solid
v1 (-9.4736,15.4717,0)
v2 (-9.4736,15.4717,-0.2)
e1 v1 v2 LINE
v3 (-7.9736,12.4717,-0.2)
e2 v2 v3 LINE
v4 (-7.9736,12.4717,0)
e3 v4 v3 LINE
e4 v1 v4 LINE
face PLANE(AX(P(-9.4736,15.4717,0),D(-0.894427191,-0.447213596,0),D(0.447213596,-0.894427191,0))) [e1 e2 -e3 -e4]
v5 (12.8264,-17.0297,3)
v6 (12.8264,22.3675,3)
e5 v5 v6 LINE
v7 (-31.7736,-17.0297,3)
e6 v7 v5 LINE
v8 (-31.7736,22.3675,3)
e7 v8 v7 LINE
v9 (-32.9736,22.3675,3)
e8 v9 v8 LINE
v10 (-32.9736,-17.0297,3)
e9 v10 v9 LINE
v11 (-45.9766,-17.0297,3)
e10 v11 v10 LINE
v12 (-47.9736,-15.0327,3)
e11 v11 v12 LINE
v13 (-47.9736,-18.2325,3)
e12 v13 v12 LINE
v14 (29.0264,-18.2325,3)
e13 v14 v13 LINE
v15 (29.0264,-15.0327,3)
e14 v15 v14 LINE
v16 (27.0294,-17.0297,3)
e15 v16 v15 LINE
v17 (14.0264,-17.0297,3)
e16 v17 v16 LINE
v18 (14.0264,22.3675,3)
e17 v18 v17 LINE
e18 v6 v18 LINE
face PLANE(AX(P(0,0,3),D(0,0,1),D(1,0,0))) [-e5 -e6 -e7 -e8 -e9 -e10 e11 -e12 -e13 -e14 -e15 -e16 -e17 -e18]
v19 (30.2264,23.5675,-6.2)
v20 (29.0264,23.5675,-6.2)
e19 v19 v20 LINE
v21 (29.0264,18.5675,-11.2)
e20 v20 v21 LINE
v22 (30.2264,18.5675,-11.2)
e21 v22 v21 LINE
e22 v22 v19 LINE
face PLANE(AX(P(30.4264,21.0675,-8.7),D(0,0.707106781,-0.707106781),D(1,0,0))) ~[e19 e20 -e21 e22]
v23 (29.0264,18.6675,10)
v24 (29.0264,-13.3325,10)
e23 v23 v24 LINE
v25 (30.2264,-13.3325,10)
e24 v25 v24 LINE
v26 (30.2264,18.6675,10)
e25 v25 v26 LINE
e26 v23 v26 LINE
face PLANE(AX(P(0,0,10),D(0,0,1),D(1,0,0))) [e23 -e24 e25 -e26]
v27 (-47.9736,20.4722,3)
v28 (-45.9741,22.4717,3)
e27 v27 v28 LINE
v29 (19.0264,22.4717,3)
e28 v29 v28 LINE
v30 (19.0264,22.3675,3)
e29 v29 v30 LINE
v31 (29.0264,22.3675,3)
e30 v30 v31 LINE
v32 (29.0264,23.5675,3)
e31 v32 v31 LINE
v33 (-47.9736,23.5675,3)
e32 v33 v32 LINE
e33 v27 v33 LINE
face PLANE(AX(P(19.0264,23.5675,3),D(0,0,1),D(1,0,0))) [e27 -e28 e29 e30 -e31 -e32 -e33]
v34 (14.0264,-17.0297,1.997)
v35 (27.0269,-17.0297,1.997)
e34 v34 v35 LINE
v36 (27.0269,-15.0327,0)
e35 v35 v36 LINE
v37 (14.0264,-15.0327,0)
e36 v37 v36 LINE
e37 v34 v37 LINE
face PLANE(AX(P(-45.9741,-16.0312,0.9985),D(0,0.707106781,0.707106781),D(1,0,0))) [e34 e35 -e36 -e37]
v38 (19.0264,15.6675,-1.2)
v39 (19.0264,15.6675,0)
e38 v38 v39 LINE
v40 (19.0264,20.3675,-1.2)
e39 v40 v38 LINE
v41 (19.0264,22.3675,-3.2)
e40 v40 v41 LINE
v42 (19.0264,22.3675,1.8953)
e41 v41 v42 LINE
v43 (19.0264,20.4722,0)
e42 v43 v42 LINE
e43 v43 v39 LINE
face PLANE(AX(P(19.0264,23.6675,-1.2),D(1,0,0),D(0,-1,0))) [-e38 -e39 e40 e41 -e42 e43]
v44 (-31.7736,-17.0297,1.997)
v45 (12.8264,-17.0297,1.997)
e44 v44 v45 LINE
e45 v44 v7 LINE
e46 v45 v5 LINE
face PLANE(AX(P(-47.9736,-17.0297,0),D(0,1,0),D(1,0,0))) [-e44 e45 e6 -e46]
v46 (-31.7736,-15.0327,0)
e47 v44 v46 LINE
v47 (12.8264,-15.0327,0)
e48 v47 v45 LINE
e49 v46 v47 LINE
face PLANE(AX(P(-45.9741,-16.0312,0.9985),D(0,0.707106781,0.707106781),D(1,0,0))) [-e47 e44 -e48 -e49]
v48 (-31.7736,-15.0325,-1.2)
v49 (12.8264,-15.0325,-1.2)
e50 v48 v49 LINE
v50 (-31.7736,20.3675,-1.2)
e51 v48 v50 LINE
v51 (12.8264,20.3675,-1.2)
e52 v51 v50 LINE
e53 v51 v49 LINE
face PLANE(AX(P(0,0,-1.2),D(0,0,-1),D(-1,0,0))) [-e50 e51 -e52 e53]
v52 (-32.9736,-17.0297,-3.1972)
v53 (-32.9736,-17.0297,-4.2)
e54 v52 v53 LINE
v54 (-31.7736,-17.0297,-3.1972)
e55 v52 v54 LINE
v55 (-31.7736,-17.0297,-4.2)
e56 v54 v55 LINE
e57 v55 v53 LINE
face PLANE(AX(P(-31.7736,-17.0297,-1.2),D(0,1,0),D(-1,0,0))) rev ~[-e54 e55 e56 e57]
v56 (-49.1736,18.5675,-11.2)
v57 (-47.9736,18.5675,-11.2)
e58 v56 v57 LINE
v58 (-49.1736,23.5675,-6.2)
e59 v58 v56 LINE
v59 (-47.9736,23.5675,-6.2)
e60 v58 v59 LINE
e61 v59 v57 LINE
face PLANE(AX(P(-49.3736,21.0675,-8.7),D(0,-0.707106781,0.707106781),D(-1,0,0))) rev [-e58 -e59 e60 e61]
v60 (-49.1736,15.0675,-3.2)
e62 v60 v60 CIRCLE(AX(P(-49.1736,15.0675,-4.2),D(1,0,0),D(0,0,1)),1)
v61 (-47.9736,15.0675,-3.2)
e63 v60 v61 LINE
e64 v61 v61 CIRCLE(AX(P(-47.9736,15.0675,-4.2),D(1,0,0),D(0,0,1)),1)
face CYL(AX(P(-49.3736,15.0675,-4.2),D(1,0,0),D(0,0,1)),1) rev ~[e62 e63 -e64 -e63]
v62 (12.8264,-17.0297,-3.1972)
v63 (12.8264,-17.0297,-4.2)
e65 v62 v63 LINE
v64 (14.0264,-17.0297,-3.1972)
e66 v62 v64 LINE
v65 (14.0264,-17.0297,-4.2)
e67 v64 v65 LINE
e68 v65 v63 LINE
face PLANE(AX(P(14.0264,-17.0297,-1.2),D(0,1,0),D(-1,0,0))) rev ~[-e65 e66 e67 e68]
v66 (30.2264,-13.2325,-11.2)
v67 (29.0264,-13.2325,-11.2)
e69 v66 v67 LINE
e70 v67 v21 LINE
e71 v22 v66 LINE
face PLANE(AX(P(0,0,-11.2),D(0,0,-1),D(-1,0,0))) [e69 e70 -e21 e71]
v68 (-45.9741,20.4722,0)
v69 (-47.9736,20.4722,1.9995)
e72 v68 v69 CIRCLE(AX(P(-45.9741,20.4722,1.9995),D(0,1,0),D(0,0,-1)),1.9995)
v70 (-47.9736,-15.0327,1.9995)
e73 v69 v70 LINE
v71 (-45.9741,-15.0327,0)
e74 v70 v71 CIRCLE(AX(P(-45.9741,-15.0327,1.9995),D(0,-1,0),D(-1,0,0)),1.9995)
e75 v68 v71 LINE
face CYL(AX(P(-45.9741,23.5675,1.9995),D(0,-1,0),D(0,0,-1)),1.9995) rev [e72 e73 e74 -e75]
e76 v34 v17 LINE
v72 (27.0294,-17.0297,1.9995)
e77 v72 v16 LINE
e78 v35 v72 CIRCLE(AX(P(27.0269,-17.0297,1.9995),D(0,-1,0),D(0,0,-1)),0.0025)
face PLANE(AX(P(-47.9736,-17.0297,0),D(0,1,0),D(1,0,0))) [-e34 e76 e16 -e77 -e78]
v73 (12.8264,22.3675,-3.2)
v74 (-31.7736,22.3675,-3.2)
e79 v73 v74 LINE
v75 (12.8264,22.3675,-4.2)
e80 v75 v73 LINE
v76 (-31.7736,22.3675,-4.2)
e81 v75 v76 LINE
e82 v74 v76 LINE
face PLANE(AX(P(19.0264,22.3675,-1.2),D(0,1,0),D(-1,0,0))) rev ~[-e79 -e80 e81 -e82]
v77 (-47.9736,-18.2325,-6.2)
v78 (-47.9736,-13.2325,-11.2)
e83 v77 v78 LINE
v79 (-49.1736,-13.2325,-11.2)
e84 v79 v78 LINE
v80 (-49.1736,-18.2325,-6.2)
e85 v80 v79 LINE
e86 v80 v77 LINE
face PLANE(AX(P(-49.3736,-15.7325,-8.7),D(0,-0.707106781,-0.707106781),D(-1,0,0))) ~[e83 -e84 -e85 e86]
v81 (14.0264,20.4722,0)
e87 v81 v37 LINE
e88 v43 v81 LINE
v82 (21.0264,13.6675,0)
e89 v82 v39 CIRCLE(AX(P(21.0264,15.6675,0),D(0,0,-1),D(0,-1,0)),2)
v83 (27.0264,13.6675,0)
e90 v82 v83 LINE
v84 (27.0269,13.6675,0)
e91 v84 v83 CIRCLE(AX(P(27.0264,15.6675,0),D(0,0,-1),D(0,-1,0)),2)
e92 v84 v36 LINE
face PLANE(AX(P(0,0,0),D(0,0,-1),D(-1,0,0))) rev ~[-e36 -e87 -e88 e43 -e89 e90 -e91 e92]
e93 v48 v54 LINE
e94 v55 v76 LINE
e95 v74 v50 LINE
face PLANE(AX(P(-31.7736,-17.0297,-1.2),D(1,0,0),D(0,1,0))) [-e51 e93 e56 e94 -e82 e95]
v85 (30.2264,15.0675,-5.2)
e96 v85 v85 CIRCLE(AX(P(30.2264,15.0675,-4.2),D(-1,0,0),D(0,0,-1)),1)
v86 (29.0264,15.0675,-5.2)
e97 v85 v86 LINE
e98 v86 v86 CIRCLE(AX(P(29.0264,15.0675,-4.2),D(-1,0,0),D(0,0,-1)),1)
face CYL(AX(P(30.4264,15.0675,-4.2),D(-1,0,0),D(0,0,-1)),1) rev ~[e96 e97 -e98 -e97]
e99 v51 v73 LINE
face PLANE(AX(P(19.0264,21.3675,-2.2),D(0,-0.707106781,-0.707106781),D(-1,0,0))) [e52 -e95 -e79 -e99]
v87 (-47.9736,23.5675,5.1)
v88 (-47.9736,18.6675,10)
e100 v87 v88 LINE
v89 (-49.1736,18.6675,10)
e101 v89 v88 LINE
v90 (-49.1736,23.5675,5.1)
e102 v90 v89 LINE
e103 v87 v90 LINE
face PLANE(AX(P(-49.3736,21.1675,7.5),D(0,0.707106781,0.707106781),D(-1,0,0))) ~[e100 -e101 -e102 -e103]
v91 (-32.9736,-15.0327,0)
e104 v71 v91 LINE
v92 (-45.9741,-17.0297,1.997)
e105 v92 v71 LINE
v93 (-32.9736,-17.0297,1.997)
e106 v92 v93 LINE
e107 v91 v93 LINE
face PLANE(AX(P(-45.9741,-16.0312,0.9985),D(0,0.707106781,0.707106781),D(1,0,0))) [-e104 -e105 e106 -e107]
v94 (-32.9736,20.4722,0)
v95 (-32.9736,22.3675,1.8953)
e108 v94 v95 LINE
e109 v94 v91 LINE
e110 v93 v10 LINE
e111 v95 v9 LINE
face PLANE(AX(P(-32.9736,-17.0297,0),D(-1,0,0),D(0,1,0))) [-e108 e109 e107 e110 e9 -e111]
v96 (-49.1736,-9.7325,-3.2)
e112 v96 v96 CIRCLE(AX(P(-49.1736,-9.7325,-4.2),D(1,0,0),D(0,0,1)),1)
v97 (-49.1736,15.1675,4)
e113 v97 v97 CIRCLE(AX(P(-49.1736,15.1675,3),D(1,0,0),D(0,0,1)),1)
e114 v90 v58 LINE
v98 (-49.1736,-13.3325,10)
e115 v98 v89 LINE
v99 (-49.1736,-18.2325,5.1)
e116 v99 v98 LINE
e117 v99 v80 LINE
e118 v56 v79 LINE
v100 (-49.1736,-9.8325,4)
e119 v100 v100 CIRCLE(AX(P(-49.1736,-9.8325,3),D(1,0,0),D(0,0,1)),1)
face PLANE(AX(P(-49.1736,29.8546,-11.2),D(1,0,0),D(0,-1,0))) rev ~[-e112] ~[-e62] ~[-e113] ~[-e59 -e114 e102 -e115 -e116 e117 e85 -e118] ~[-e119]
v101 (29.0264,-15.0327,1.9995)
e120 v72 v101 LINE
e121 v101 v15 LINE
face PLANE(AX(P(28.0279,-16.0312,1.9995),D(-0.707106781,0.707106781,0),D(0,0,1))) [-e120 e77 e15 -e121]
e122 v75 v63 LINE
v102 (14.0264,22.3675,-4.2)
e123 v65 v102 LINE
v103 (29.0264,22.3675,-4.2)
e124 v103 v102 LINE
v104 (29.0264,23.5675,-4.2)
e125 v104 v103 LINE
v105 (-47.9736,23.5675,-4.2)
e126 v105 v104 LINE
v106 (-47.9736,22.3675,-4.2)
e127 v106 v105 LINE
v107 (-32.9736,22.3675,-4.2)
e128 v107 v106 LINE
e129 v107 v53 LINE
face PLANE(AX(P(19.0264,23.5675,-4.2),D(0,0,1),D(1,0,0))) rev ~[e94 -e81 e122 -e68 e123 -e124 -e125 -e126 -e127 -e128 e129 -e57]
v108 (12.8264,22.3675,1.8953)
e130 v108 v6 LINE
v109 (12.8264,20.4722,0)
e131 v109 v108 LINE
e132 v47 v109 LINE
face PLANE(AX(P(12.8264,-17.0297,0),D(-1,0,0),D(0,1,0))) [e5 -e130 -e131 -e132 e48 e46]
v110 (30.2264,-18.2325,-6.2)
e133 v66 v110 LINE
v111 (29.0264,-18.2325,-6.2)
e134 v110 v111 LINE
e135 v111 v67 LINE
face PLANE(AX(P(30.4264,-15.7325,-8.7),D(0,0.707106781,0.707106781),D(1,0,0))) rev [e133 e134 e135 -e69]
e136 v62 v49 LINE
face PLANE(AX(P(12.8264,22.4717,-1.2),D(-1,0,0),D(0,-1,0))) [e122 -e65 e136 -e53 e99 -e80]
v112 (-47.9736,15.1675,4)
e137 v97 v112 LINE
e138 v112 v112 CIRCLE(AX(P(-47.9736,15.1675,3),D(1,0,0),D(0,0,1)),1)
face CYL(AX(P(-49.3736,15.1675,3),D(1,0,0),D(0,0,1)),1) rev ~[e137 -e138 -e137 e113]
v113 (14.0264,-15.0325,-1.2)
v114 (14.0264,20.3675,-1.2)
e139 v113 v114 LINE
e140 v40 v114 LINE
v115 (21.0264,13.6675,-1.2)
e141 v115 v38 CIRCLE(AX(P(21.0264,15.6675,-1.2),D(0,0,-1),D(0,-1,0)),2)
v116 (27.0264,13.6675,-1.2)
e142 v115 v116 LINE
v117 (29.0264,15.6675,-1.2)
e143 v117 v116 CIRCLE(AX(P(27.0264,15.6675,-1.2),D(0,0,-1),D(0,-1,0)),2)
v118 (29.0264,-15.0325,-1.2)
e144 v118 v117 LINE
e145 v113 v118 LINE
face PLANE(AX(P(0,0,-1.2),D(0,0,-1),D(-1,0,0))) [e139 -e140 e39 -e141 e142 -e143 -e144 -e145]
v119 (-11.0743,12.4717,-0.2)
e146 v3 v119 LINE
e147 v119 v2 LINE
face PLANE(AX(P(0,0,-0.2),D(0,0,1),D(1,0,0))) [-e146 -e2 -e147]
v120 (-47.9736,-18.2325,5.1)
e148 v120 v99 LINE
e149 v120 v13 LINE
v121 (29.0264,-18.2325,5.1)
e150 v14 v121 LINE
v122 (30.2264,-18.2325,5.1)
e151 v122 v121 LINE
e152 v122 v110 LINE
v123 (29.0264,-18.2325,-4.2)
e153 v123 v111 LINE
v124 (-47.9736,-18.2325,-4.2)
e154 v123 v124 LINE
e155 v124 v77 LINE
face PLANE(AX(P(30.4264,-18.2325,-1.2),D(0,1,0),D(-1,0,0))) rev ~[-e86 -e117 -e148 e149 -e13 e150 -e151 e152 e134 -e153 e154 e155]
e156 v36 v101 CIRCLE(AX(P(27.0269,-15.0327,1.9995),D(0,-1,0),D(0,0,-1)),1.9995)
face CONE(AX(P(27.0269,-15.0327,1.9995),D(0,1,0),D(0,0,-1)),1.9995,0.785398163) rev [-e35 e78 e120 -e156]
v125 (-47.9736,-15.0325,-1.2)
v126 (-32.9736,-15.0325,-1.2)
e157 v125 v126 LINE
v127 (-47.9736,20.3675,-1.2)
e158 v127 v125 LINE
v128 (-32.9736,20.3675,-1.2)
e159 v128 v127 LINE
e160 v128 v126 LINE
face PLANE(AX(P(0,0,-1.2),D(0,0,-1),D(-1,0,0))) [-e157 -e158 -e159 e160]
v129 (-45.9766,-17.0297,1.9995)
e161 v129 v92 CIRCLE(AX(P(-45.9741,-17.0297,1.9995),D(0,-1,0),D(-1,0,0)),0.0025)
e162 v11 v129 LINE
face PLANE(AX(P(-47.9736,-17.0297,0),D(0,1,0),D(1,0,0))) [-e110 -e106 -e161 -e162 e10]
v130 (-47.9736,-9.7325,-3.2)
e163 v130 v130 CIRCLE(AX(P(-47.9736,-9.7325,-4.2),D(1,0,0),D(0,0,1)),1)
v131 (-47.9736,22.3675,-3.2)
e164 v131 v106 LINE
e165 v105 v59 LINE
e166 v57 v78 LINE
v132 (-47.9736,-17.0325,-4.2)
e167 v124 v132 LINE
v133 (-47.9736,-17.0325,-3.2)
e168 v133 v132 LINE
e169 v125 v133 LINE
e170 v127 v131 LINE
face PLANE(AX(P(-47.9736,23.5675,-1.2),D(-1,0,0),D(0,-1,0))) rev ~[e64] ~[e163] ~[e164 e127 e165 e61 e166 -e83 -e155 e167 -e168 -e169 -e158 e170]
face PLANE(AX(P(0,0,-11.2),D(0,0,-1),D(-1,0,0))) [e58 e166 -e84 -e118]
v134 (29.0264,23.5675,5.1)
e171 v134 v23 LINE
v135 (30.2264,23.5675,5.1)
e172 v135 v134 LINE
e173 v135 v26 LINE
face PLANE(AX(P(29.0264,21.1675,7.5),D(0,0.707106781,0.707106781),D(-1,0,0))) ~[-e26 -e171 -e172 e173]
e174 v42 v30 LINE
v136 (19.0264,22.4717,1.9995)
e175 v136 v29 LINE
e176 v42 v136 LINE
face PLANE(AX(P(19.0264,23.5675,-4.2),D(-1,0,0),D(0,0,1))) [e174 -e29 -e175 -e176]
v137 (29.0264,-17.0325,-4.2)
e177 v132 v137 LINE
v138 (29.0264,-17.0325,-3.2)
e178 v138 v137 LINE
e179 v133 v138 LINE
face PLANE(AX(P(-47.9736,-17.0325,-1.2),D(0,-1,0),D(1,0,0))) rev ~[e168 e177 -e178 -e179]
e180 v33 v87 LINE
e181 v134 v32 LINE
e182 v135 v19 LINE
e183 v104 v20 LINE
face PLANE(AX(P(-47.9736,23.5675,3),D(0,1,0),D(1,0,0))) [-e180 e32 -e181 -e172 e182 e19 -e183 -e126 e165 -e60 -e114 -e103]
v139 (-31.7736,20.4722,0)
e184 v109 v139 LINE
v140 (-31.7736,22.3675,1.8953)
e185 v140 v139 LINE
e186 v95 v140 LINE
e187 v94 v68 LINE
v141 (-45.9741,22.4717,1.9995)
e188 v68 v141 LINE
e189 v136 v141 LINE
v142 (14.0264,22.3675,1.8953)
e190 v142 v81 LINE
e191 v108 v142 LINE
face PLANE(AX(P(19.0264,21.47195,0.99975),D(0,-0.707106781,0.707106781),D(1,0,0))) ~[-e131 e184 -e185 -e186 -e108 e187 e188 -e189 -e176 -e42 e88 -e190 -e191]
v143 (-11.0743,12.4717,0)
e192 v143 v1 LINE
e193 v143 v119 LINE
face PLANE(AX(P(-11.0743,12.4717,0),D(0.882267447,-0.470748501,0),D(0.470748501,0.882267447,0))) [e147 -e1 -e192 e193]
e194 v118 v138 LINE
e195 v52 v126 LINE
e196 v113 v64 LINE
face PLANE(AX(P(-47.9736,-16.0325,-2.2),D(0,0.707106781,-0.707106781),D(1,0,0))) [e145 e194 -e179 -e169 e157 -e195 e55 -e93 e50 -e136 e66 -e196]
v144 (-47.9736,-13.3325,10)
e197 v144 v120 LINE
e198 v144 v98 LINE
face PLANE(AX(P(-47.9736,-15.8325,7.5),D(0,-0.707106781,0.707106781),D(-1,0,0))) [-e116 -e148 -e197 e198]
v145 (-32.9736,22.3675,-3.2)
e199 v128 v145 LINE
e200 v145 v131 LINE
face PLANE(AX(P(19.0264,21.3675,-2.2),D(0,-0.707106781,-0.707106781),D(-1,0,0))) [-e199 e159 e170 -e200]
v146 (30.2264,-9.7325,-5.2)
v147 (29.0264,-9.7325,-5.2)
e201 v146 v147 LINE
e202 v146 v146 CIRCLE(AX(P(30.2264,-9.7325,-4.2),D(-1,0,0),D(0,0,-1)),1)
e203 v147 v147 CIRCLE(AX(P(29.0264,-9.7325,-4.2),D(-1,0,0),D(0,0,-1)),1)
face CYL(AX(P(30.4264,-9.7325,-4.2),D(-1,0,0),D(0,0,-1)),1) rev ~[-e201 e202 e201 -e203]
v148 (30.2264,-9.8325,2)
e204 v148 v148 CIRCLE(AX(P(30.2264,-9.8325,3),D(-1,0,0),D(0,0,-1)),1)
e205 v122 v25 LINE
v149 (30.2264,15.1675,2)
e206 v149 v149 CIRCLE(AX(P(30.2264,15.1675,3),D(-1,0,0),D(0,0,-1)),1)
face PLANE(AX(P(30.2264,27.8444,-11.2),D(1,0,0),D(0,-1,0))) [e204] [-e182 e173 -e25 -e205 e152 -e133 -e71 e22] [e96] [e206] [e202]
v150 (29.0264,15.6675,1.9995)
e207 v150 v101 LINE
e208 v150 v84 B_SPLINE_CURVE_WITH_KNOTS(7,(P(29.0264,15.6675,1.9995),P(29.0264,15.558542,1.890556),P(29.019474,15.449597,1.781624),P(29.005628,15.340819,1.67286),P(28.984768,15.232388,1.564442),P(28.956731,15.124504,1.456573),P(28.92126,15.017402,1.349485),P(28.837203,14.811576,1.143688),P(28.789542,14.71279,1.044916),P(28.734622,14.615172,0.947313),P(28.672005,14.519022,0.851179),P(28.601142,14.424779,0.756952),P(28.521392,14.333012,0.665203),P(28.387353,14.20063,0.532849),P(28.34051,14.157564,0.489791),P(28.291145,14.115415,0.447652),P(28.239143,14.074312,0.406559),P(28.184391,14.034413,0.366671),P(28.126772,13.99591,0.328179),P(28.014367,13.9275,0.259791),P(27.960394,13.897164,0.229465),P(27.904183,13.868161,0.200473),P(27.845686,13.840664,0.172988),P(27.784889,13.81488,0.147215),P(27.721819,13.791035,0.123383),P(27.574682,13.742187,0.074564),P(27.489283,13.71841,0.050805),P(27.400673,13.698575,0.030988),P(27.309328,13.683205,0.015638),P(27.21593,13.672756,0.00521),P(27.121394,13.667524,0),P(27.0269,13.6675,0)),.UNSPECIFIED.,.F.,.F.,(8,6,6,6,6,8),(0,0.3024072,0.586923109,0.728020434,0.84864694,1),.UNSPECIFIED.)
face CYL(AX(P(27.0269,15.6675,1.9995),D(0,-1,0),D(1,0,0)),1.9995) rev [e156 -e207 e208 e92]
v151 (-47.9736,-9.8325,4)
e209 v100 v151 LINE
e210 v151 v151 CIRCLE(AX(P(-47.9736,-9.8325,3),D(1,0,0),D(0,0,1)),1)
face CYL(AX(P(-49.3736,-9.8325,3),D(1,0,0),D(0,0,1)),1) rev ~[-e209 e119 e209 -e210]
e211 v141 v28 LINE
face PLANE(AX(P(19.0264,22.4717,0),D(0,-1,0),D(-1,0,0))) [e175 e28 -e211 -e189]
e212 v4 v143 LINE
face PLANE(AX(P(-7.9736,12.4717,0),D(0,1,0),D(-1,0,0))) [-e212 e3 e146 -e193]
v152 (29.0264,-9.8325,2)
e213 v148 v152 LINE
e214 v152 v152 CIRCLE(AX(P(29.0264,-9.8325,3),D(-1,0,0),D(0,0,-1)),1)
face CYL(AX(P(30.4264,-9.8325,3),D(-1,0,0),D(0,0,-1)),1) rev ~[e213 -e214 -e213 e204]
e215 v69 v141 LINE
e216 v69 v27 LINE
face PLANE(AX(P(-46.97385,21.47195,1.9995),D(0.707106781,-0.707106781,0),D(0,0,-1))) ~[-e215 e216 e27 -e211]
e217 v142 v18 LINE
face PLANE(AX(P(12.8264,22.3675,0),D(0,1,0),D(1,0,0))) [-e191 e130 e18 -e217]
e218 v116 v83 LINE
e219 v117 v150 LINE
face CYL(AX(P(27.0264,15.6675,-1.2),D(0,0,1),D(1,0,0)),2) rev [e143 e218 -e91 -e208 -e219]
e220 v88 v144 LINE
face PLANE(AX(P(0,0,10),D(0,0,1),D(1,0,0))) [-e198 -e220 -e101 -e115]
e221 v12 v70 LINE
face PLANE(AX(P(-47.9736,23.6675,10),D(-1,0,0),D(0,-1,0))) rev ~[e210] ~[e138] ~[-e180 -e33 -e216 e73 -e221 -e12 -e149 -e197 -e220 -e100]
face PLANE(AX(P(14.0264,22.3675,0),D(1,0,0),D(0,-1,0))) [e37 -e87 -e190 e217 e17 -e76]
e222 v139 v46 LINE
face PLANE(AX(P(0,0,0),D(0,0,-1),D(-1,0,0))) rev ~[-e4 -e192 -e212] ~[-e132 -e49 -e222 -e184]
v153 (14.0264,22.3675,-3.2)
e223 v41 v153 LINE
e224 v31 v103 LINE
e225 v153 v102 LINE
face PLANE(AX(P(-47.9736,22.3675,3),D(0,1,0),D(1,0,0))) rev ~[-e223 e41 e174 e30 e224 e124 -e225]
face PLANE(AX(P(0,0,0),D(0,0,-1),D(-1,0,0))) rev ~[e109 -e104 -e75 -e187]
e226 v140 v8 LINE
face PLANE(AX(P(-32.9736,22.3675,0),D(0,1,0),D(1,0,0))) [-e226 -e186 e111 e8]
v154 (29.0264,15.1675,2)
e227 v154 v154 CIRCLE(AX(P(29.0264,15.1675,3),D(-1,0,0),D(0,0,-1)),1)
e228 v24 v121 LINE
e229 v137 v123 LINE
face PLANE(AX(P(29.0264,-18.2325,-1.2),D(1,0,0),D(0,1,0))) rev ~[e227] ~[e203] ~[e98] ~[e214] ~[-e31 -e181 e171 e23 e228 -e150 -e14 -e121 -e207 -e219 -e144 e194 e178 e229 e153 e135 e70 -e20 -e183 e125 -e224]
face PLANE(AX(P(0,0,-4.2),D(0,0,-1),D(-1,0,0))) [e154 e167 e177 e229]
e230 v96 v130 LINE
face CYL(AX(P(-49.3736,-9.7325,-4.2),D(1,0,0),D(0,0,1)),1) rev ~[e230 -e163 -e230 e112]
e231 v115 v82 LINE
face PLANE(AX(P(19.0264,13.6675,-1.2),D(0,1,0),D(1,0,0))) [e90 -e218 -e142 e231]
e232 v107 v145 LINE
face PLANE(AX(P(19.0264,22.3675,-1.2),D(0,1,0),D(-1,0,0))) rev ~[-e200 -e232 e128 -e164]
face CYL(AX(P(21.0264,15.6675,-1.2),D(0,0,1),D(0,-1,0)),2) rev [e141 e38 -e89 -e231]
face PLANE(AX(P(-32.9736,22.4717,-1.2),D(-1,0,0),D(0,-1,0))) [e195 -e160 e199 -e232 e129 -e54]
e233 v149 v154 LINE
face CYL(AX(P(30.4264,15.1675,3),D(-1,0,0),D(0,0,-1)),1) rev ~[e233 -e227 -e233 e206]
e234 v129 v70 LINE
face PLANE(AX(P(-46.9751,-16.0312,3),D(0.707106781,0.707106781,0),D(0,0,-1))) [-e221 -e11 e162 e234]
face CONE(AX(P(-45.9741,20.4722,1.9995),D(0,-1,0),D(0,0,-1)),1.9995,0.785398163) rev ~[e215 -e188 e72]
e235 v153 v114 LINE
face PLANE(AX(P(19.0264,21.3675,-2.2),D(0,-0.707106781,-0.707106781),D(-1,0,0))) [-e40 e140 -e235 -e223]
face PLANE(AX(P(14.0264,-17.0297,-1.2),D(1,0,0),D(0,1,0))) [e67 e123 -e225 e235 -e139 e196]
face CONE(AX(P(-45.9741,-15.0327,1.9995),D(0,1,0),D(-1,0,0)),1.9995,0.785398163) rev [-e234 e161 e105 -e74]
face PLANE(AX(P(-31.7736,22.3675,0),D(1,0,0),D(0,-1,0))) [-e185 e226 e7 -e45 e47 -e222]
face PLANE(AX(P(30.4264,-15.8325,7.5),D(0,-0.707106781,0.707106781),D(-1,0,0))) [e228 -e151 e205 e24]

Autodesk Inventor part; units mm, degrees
ref_plane "YZ Plane" through (0, 0, 0) normal (1, 0, 0) x (0, 1, 0)
ref_plane "XZ Plane" through (0, 0, 0) normal (0, 1, 0) x (-1, 0, 0)
ref_plane "XY Plane" through (0, 0, 0) normal (0, 0, 1) x (1, 0, 0)
sketch "Sketch1" plane through (0, 0, 0) normal (0, 0, 1) x (1, 0, 0)
  line L0 (-49.4736, 23.6675) -> (30.5264, 23.6675)
  line L1 (30.5264, 23.6675) -> (30.5264, -18.3325)
  line L2 (30.5264, -18.3325) -> (-49.4736, -18.3325)
  line L3 (-49.4736, -18.3325) -> (-49.4736, 23.6675)
  line L4 (-47.9736, 22.4675) -> (29.0264, 22.4675)
  line L5 (29.0264, 22.4675) -> (29.0264, -17.1325)
  line L6 (29.0264, -17.1325) -> (-47.9736, -17.1325)
  line L7 (-47.9736, -17.1325) -> (-47.9736, 22.4675)
  point P0 (0, 0)
  dimension "d0" = 80
  dimension "d1" = 42
  dimension "d2" = 1.5
  dimension "d3" = 1.5
  dimension "d4" = 1.2
  dimension "d5" = 1.2
extrude "Extrusion1" add sketch "Sketch1" along normal blind 10
sketch "Sketch2" plane through (0, 0, 10) normal (0, 0, 1) x (1, 0, 0)
  line L0 (-47.9736, -18.3325) -> (29.0264, -18.3325)
  line L1 (29.0264, -18.3325) -> (29.0264, 23.6675)
  line L2 (29.0264, 23.6675) -> (-47.9736, 23.6675)
  line L3 (-47.9736, 23.6675) -> (-47.9736, -18.3325)
  line L4 (-47.9736, -17.1325) -> (-47.9736, 22.4675) projected
  line L5 (29.0264, 22.4675) -> (29.0264, -17.1325) projected
  line L6 (30.5264, 23.6675) -> (-49.4736, 23.6675) projected
  line L7 (-49.4736, -18.3325) -> (30.5264, -18.3325) projected
  point P0 (0, 0)
extrude "Extrusion2" cut sketch "Sketch2" against normal blind 10
sketch "Sketch3" plane through (0, 0, 10) normal (0, 0, 1) x (1, 0, 0)
  line L0 (-60.7413, 24.2408) -> (-49.3736, 24.2408)
  line L1 (-49.3736, 24.2408) -> (-49.3736, -19.8756)
  line L2 (-49.3736, -19.8756) -> (-60.7413, -19.8756)
  line L3 (-60.7413, -19.8756) -> (-60.7413, 24.2408)
  line L4 (46.8098, -23.8693) -> (30.4264, -23.8693)
  line L5 (30.4264, -23.8693) -> (30.4264, 25.2624)
  line L6 (30.4264, 25.2624) -> (46.8098, 25.2624)
  line L7 (46.8098, 25.2624) -> (46.8098, -23.8693)
  line L8 (-49.4736, 23.6675) -> (-49.4736, -18.3325) projected
  line L9 (30.5264, -18.3325) -> (30.5264, 23.6675) projected
  point P0 (0, 0)
  dimension "d10" = 0.1
  dimension "d11" = 0.1
extrude "Extrusion3" cut sketch "Sketch3" against normal blind 10
sketch "Sketch4" plane through (30.4264, -18.3325, 10) normal (1, 0, 0) x (0, 0, -1)
  line L0 (10, 42) -> (10, 0) projected
  line L1 (0, 42) -> (10, 42) projected
  line L2 (10, 0) -> (0, 0) projected
  point P0 (10, 18.3325)
  point P1 (7, 33.5)
  point P2 (7, 8.5)
  dimension "d14" = 3
  dimension "d15" = 3
  dimension "d16" = 8.5
  dimension "d17" = 8.5
hole "Hole1" at (30.4264, 15.1675, 3) at (30.4264, -9.8325, 3) direction (-1, 0, 0) diameter 2 depth 10 tip angle 179
sketch "Sketch5" plane through (-49.3736, -18.3325, 10) normal (-1, 0, 0) x (0, 0, 1)
  circle A0 centre (-7, 33.5) radius 1 projected
  circle A1 centre (-7, 8.5) radius 1 projected
  point P0 (-10, 18.3325)
hole "Hole2" at (-49.3736, 15.1675, 3) at (-49.3736, -9.8325, 3) direction (1, 0, 0) diameter 2 depth 10 tip angle 179
chamfer "Chamfer1" distance 5 angle 45 4 edges at (-48.6736, 23.6675, 10) (-48.6736, -18.3325, 10) (29.7264, -18.3325, 10) (29.7264, 23.6675, 10)
sketch "Sketch6" plane through (0, 0, 0) normal (0, 0, -1) x (-1, 0, 0)
  line L0 (-30.4264, 23.6675) -> (-30.4264, -18.3325) projected
  line L1 (49.3736, -18.3325) -> (47.9736, -18.3325) projected
  line L2 (-30.4264, 23.6675) -> (49.3736, 23.6675)
  line L3 (49.3736, 23.6675) -> (49.3736, -18.3325)
  line L4 (49.3736, -18.3325) -> (-30.4264, -18.3325)
  line L5 (-30.4264, -18.3325) -> (-30.4264, 23.6675)
  point P0 (0, 0)
  point P1 (-30.4264, -18.3325)
extrude "Extrusion4" add sketch "Sketch6" along normal blind 1.2
sketch "Sketch7" plane through (0, 0, -1.2) normal (0, 0, -1) x (-1, 0, 0)
  line L0 (-29.0264, -18.3325) -> (-29.0264, 23.6675) projected
  line L1 (-29.0264, 23.6675) -> (-19.0264, 23.6675)
  line L2 (-19.0264, 23.6675) -> (-19.0264, 13.6675)
  line L3 (-19.0264, 13.6675) -> (-29.0264, 13.6675)
  line L4 (-29.0264, 13.6675) -> (-29.0264, 23.6675)
  point P0 (0, 0)
  dimension "d37" = 10
  dimension "d38" = 10
extrude "Extrusion5" cut sketch "Sketch7" against normal blind 1.2
fillet "Fillet1" radius 2 2 edges at (19.0264, 13.6675, -0.6) (29.0264, 13.6675, -0.6)
sketch "Sketch9" plane through (0, 0, 0) normal (0, 0, 1) x (1, 0, 0)
  line L0 (42.1128, -25.2677) -> (-53.8311, -25.2677)
  line L1 (-53.8311, -25.2677) -> (-53.8311, -18.2325)
  line L2 (-53.8311, -18.2325) -> (42.1128, -18.2325)
  line L3 (42.1128, -18.2325) -> (42.1128, -25.2677)
  line L4 (-54.7833, 25.6339) -> (39.9156, 25.6339)
  line L5 (39.9156, 25.6339) -> (39.9156, 23.5675)
  line L6 (39.9156, 23.5675) -> (-54.7833, 23.5675)
  line L7 (-54.7833, 23.5675) -> (-54.7833, 25.6339)
  line L8 (29.0264, -18.3325) -> (-47.9736, -18.3325) projected
  line L9 (-47.9736, 23.6675) -> (19.0264, 23.6675) projected
  point P0 (0, 0)
  dimension "d56" = 0.1
  dimension "d57" = 0.1
extrude "Extrusion7" cut sketch "Sketch9" along normal mid plane 50
fillet "Fillet2" radius 2 2 edges at (-47.9736, 2.6675, 0) (29.0264, -1.2825, 0)
sketch "Sketch10" plane through (0, 0, 0) normal (0, 0, 1) x (1, 0, 0)
  line L0 (-47.9736, 23.5675) -> (-47.9736, 15.1675) projected
  line L1 (19.0264, 23.5675) -> (19.0264, 15.6675) projected
  line L2 (-47.9736, 23.5675) -> (19.0264, 23.5675)
  line L3 (19.0264, 23.5675) -> (19.0264, 22.4717)
  line L4 (19.0264, 22.4717) -> (-47.9736, 22.4717)
  line L5 (-47.9736, 22.4717) -> (-47.9736, 23.5675)
  line L6 (29.0264, -18.2325) -> (29.0264, -9.8325) projected
  line L7 (-47.9736, -9.8325) -> (-47.9736, -18.2325) projected
  line L8 (29.0264, -18.2325) -> (-47.9736, -18.2325)
  line L9 (-47.9736, -18.2325) -> (-47.9736, -17.0297)
  line L10 (-47.9736, -17.0297) -> (29.0264, -17.0297)
  line L11 (29.0264, -17.0297) -> (29.0264, -18.2325)
  point P0 (0, 0)
  point P1 (29.0264, -17.0297)
extrude "Extrusion8" add sketch "Sketch10" along normal blind 3
sketch "Sketch13" plane through (0, 0, -1.2) normal (0, 0, -1) x (-1, 0, 0)
  line L0 (-31.9264, 25.0675) -> (50.8736, 25.0675)
  line L1 (50.8736, 25.0675) -> (50.8736, -19.7325)
  line L2 (50.8736, -19.7325) -> (-31.9264, -19.7325)
  line L3 (-31.9264, -19.7325) -> (-31.9264, 25.0675)
  line L4 (49.3736, 23.5675) -> (-19.0264, 23.5675) projected
  line L5 (-30.4264, -18.2325) -> (49.3736, -18.2325) projected
  line L6 (-30.4264, 23.5675) -> (-30.4264, -18.2325) projected
  line L7 (49.3736, -18.2325) -> (49.3736, 23.5675) projected
  line L8 (-30.4264, 23.5675) -> (49.3736, 23.5675)
  line L9 (49.3736, 23.5675) -> (49.3736, -18.2325)
  line L10 (49.3736, -18.2325) -> (-30.4264, -18.2325)
  line L11 (-30.4264, -18.2325) -> (-30.4264, 23.5675)
  point P0 (0, 0)
  dimension "d81" = 1.5
  dimension "d82" = 1.5
  dimension "d83" = 1.5
  dimension "d84" = 1.5
extrude "Extrusion11" add sketch "Sketch13" against normal blind 1.2
fillet "Fillet3" radius 2 3 edges at (31.9264, 25.0675, -0.6) (-50.8736, 25.0675, -0.6) (31.9264, -19.7325, -0.6)
fillet "Fillet4" radius 2 1 edges at (-50.8736, -19.7325, -0.6)
sketch "Sketch14" plane through (0, 0, -1.2) normal (0, 0, -1) x (-1, 0, 0)
  line L0 (-30.4264, 23.5675) -> (-29.0264, 23.5675) projected
  line L1 (-30.4264, -18.2325) -> (-30.4264, 23.5675) projected
  line L2 (-29.0264, 23.5675) -> (-30.4264, 23.5675)
  line L3 (-30.4264, 23.5675) -> (-30.4264, -18.2325)
  line L4 (-30.4264, -18.2325) -> (-29.0264, -18.2325)
  line L5 (-29.0264, -18.2325) -> (-29.0264, 23.5675)
  line L6 (49.3736, -18.2325) -> (47.9736, -18.2325) projected
  line L7 (49.3736, 23.5675) -> (49.3736, -18.2325) projected
  line L8 (47.9736, -18.2325) -> (49.3736, -18.2325)
  line L9 (49.3736, -18.2325) -> (49.3736, 23.5675)
  line L10 (49.3736, 23.5675) -> (47.9736, 23.5675)
  line L11 (47.9736, 23.5675) -> (47.9736, -18.2325)
  line L12 (-31.9264, 23.0675) -> (-31.9264, -17.7325) projected
  line L13 (48.8736, 25.0675) -> (-29.9264, 25.0675) projected
  point P0 (0, 0)
  dimension "d89" = 1.5
  dimension "d90" = 1.5
extrude "Extrusion12" add sketch "Sketch14" along normal blind 10
sketch "Sketch15" plane through (30.4264, -18.2325, -1.2) normal (1, 0, 0) x (0, 0, -1)
  line L0 (0, 41.8) -> (10, 41.8) projected
  line L1 (0, 0) -> (10, 0) projected
  line L2 (0, 41.3) -> (0, 0.5) projected
  point P0 (-1.2, 18.2325)
  point P1 (3, 33.3)
  point P2 (3, 8.5)
  point P3 (5, 41.8)
  point P4 (5, 0)
  dimension "d96" = 8.5
  dimension "d97" = 8.5
  dimension "d98" = 3
  dimension "d99" = 3
hole "Hole3" at (30.4264, 15.0675, -4.2) at (30.4264, -9.7325, -4.2) direction (-1, 0, 0) diameter 2 depth 10 tip angle 179
sketch "Sketch16" plane through (-49.3736, -18.2325, -1.2) normal (-1, 0, 0) x (0, 0, 1)
  circle A0 centre (-3, 33.3) radius 1 projected
  circle A1 centre (-3, 8.5) radius 1 projected
  point P0 (1.2, 18.2325)
hole "Hole4" at (-49.3736, 15.0675, -4.2) at (-49.3736, -9.7325, -4.2) direction (1, 0, 0) diameter 2 depth 10 tip angle 179
chamfer "Chamfer4" distance 5 angle 45 4 edges at (29.7264, 23.5675, -11.2) (-48.6736, 23.5675, -11.2) (29.7264, -18.2325, -11.2) (-48.6736, -18.2325, -11.2)
chamfer "Chamfer5" distance 2 angle 45 5 edges at (-9.4736, -17.0297, 0) (28.4408, -17.0297, 0.5856) (29.0264, -17.0297, 2.4998) (-47.3879, -17.0297, 0.5856) (-47.9736, -17.0297, 2.4998)
chamfer "Chamfer6" distance 2 angle 45 2 edges at (-13.4738, 22.4717, 0) (-47.3879, 22.4717, 0.5856)
sketch "Sketch17" plane through (0, 0, -1.2) normal (0, 0, -1) x (-1, 0, 0)
  line L0 (-19.0264, 23.5675) -> (47.9736, 23.5675) projected
  line L1 (47.9736, 23.5675) -> (-19.0264, 23.5675)
  line L2 (-19.0264, 23.5675) -> (-19.0264, 22.3675)
  line L3 (-19.0264, 22.3675) -> (47.9736, 22.3675)
  line L4 (47.9736, 22.3675) -> (47.9736, 23.5675)
  line L5 (-29.0264, -15.0297) -> (-29.0264, -18.2325) projected
  line L6 (-29.0264, -18.2325) -> (47.9736, -18.2325)
  line L7 (47.9736, -18.2325) -> (47.9736, -17.0325)
  line L8 (47.9736, -17.0325) -> (-29.0264, -17.0325)
  line L9 (-29.0264, -17.0325) -> (-29.0264, -18.2325)
  line L10 (-19.0264, 23.5675) -> (-19.0264, 15.6675) projected
  point P0 (0, 0)
  point P1 (-29.0264, -17.0325)
  dimension "d123" = 1.2
  dimension "d124" = 1.2
extrude "Extrusion13" add sketch "Sketch17" along normal blind 3
chamfer "Chamfer7" distance 2 angle 45 1 edges at (-14.4736, 22.3675, -1.2)
chamfer "Chamfer8" distance 2 angle 45 1 edges at (-9.4736, -17.0325, -1.2)
sketch "Sketch19" plane through (0, 0, -1.2) normal (0, 0, -1) x (-1, 0, 0)
  line L0 (-30.4264, -18.2325) -> (-30.4264, 23.5675) projected
  line L1 (47.9736, -18.2325) -> (49.3736, -18.2325) projected
  line L2 (-30.4264, 23.5675) -> (49.3736, 23.5675)
  line L3 (49.3736, 23.5675) -> (49.3736, -18.2325)
  line L4 (49.3736, -18.2325) -> (-30.4264, -18.2325)
  line L5 (-30.4264, -18.2325) -> (-30.4264, 23.5675)
  line L6 (55.2974, -21.7914) -> (-35.5213, -21.7914)
  line L7 (-35.5213, -21.7914) -> (-35.5213, 27.2078)
  line L8 (-35.5213, 27.2078) -> (55.2974, 27.2078)
  line L9 (55.2974, 27.2078) -> (55.2974, -21.7914)
  point P0 (0, 0)
extrude "Extrusion14" cut sketch "Sketch19" against normal blind 3
sketch "Sketch20" plane through (0, 0, -1.2) normal (0, 0, -1) x (-1, 0, 0)
  line L0 (-19.0264, 22.4717) -> (45.9736, 22.4717) projected
  line L1 (-27.0264, -17.0297) -> (45.9736, -17.0297) projected
  line L2 (-14.0264, 22.4717) -> (-12.8264, 22.4717)
  line L3 (-12.8264, 22.4717) -> (-12.8264, -17.0297)
  line L4 (-12.8264, -17.0297) -> (-14.0264, -17.0297)
  line L5 (-14.0264, -17.0297) -> (-14.0264, 22.4717)
  line L6 (31.7736, 22.4717) -> (32.9736, 22.4717)
  line L7 (32.9736, 22.4717) -> (32.9736, -17.0297)
  line L8 (32.9736, -17.0297) -> (31.7736, -17.0297)
  line L9 (31.7736, -17.0297) -> (31.7736, 22.4717)
  line L10 (-29.0264, -13.2325) -> (-29.0264, 18.5675) projected
  line L11 (47.9736, 18.5675) -> (47.9736, -13.2325) projected
  point P0 (0, 0)
  point P1 (32.9736, -17.0297)
  dimension "d135" = 1.2
  dimension "d136" = 1.2
  dimension "d137" = 15
  dimension "d138" = 15
extrude "Extrusion15" add sketch "Sketch20" along normal blind 3 contours L0 L3 L1 L5 | L0 L7 L1 L9
sketch "Sketch21" plane through (0, 0, 0) normal (0, 0, 1) x (1, 0, 0)
  line L0 (-32.9736, 22.3675) -> (-32.9736, 20.3675) projected
  line L1 (-32.9736, -17.0297) -> (-31.7736, -17.0297) projected
  line L2 (-32.9736, 22.3675) -> (-31.7736, 22.3675)
  line L3 (-31.7736, 22.3675) -> (-31.7736, -17.0297)
  line L4 (-31.7736, -17.0297) -> (-32.9736, -17.0297)
  line L5 (-32.9736, -17.0297) -> (-32.9736, 22.3675)
  line L6 (14.0264, 22.3675) -> (14.0264, -17.0297) projected
  line L7 (12.8264, -17.0297) -> (12.8264, 22.3675) projected
  line L8 (14.0264, -17.0297) -> (12.8264, -17.0297)
  line L9 (12.8264, -17.0297) -> (12.8264, 22.3675)
  line L10 (12.8264, 22.3675) -> (14.0264, 22.3675)
  line L11 (14.0264, 22.3675) -> (14.0264, -17.0297)
  point P0 (0, 0)
extrude "Extrusion16" add sketch "Sketch21" along normal blind 3
sketch "Sketch22" plane through (0, 0, -11.2) normal (0, 0, -1) x (-1, 0, 0)
  line L0 (-43.9257, 27.8444) -> (-30.2264, 27.8444)
  line L1 (-30.2264, 27.8444) -> (-30.2264, -19.4315)
  line L2 (-30.2264, -19.4315) -> (-43.9257, -19.4315)
  line L3 (-43.9257, -19.4315) -> (-43.9257, 27.8444)
  line L4 (58.4435, 29.8546) -> (49.1736, 29.8546)
  line L5 (49.1736, 29.8546) -> (49.1736, -19.4315)
  line L6 (49.1736, -19.4315) -> (58.4435, -19.4315)
  line L7 (58.4435, -19.4315) -> (58.4435, 29.8546)
  line L8 (-30.4264, 23.5675) -> (-30.4264, 18.5675) projected
  line L9 (49.3736, 18.5675) -> (49.3736, 23.5675) projected
  point P0 (0, 0)
  dimension "d143" = 0.2
  dimension "d144" = 0.2
extrude "Extrusion17" cut sketch "Sketch22" against normal blind 30
sketch "Sketch23" plane through (-47.9736, 23.5675, 3) normal (0, 1, 0) x (1, 0, 0)
  line L0 (67, 7.2) -> (67, 0) projected
  line L1 (0, 7.2) -> (77, 7.2) projected
  line L2 (67, 0) -> (77, 0)
  line L3 (77, 0) -> (77, 7.2)
  line L4 (77, 7.2) -> (67, 7.2)
  line L5 (67, 7.2) -> (67, 0)
  point P0 (47.9736, 3)
extrude "Extrusion18" add sketch "Sketch23" against normal blind 1.2
sketch "Sketch24" plane through (0, 0, 0) normal (0, 0, 1) x (1, 0, 0)
  line L0 (-31.7736, 20.4717) -> (12.8264, 20.4717) projected
  line L1 (-9.4736, 15.4717) -> (-7.9736, 12.4717)
  line L2 (-7.9736, 12.4717) -> (-11.0743, 12.4717)
  line L3 (-11.0743, 12.4717) -> (-9.4736, 15.4717)
  point P0 (0, 0)
  point P1 (-9.4736, 20.4717)
  dimension "d149" = 3
  dimension "d150" = 3
  dimension "d151" = 1.5
  dimension "d152" = 0
  dimension "d153" = 5
extrude "Extrusion19" cut sketch "Sketch24" against normal blind 0.2
properties part number "screen cover backplate"
